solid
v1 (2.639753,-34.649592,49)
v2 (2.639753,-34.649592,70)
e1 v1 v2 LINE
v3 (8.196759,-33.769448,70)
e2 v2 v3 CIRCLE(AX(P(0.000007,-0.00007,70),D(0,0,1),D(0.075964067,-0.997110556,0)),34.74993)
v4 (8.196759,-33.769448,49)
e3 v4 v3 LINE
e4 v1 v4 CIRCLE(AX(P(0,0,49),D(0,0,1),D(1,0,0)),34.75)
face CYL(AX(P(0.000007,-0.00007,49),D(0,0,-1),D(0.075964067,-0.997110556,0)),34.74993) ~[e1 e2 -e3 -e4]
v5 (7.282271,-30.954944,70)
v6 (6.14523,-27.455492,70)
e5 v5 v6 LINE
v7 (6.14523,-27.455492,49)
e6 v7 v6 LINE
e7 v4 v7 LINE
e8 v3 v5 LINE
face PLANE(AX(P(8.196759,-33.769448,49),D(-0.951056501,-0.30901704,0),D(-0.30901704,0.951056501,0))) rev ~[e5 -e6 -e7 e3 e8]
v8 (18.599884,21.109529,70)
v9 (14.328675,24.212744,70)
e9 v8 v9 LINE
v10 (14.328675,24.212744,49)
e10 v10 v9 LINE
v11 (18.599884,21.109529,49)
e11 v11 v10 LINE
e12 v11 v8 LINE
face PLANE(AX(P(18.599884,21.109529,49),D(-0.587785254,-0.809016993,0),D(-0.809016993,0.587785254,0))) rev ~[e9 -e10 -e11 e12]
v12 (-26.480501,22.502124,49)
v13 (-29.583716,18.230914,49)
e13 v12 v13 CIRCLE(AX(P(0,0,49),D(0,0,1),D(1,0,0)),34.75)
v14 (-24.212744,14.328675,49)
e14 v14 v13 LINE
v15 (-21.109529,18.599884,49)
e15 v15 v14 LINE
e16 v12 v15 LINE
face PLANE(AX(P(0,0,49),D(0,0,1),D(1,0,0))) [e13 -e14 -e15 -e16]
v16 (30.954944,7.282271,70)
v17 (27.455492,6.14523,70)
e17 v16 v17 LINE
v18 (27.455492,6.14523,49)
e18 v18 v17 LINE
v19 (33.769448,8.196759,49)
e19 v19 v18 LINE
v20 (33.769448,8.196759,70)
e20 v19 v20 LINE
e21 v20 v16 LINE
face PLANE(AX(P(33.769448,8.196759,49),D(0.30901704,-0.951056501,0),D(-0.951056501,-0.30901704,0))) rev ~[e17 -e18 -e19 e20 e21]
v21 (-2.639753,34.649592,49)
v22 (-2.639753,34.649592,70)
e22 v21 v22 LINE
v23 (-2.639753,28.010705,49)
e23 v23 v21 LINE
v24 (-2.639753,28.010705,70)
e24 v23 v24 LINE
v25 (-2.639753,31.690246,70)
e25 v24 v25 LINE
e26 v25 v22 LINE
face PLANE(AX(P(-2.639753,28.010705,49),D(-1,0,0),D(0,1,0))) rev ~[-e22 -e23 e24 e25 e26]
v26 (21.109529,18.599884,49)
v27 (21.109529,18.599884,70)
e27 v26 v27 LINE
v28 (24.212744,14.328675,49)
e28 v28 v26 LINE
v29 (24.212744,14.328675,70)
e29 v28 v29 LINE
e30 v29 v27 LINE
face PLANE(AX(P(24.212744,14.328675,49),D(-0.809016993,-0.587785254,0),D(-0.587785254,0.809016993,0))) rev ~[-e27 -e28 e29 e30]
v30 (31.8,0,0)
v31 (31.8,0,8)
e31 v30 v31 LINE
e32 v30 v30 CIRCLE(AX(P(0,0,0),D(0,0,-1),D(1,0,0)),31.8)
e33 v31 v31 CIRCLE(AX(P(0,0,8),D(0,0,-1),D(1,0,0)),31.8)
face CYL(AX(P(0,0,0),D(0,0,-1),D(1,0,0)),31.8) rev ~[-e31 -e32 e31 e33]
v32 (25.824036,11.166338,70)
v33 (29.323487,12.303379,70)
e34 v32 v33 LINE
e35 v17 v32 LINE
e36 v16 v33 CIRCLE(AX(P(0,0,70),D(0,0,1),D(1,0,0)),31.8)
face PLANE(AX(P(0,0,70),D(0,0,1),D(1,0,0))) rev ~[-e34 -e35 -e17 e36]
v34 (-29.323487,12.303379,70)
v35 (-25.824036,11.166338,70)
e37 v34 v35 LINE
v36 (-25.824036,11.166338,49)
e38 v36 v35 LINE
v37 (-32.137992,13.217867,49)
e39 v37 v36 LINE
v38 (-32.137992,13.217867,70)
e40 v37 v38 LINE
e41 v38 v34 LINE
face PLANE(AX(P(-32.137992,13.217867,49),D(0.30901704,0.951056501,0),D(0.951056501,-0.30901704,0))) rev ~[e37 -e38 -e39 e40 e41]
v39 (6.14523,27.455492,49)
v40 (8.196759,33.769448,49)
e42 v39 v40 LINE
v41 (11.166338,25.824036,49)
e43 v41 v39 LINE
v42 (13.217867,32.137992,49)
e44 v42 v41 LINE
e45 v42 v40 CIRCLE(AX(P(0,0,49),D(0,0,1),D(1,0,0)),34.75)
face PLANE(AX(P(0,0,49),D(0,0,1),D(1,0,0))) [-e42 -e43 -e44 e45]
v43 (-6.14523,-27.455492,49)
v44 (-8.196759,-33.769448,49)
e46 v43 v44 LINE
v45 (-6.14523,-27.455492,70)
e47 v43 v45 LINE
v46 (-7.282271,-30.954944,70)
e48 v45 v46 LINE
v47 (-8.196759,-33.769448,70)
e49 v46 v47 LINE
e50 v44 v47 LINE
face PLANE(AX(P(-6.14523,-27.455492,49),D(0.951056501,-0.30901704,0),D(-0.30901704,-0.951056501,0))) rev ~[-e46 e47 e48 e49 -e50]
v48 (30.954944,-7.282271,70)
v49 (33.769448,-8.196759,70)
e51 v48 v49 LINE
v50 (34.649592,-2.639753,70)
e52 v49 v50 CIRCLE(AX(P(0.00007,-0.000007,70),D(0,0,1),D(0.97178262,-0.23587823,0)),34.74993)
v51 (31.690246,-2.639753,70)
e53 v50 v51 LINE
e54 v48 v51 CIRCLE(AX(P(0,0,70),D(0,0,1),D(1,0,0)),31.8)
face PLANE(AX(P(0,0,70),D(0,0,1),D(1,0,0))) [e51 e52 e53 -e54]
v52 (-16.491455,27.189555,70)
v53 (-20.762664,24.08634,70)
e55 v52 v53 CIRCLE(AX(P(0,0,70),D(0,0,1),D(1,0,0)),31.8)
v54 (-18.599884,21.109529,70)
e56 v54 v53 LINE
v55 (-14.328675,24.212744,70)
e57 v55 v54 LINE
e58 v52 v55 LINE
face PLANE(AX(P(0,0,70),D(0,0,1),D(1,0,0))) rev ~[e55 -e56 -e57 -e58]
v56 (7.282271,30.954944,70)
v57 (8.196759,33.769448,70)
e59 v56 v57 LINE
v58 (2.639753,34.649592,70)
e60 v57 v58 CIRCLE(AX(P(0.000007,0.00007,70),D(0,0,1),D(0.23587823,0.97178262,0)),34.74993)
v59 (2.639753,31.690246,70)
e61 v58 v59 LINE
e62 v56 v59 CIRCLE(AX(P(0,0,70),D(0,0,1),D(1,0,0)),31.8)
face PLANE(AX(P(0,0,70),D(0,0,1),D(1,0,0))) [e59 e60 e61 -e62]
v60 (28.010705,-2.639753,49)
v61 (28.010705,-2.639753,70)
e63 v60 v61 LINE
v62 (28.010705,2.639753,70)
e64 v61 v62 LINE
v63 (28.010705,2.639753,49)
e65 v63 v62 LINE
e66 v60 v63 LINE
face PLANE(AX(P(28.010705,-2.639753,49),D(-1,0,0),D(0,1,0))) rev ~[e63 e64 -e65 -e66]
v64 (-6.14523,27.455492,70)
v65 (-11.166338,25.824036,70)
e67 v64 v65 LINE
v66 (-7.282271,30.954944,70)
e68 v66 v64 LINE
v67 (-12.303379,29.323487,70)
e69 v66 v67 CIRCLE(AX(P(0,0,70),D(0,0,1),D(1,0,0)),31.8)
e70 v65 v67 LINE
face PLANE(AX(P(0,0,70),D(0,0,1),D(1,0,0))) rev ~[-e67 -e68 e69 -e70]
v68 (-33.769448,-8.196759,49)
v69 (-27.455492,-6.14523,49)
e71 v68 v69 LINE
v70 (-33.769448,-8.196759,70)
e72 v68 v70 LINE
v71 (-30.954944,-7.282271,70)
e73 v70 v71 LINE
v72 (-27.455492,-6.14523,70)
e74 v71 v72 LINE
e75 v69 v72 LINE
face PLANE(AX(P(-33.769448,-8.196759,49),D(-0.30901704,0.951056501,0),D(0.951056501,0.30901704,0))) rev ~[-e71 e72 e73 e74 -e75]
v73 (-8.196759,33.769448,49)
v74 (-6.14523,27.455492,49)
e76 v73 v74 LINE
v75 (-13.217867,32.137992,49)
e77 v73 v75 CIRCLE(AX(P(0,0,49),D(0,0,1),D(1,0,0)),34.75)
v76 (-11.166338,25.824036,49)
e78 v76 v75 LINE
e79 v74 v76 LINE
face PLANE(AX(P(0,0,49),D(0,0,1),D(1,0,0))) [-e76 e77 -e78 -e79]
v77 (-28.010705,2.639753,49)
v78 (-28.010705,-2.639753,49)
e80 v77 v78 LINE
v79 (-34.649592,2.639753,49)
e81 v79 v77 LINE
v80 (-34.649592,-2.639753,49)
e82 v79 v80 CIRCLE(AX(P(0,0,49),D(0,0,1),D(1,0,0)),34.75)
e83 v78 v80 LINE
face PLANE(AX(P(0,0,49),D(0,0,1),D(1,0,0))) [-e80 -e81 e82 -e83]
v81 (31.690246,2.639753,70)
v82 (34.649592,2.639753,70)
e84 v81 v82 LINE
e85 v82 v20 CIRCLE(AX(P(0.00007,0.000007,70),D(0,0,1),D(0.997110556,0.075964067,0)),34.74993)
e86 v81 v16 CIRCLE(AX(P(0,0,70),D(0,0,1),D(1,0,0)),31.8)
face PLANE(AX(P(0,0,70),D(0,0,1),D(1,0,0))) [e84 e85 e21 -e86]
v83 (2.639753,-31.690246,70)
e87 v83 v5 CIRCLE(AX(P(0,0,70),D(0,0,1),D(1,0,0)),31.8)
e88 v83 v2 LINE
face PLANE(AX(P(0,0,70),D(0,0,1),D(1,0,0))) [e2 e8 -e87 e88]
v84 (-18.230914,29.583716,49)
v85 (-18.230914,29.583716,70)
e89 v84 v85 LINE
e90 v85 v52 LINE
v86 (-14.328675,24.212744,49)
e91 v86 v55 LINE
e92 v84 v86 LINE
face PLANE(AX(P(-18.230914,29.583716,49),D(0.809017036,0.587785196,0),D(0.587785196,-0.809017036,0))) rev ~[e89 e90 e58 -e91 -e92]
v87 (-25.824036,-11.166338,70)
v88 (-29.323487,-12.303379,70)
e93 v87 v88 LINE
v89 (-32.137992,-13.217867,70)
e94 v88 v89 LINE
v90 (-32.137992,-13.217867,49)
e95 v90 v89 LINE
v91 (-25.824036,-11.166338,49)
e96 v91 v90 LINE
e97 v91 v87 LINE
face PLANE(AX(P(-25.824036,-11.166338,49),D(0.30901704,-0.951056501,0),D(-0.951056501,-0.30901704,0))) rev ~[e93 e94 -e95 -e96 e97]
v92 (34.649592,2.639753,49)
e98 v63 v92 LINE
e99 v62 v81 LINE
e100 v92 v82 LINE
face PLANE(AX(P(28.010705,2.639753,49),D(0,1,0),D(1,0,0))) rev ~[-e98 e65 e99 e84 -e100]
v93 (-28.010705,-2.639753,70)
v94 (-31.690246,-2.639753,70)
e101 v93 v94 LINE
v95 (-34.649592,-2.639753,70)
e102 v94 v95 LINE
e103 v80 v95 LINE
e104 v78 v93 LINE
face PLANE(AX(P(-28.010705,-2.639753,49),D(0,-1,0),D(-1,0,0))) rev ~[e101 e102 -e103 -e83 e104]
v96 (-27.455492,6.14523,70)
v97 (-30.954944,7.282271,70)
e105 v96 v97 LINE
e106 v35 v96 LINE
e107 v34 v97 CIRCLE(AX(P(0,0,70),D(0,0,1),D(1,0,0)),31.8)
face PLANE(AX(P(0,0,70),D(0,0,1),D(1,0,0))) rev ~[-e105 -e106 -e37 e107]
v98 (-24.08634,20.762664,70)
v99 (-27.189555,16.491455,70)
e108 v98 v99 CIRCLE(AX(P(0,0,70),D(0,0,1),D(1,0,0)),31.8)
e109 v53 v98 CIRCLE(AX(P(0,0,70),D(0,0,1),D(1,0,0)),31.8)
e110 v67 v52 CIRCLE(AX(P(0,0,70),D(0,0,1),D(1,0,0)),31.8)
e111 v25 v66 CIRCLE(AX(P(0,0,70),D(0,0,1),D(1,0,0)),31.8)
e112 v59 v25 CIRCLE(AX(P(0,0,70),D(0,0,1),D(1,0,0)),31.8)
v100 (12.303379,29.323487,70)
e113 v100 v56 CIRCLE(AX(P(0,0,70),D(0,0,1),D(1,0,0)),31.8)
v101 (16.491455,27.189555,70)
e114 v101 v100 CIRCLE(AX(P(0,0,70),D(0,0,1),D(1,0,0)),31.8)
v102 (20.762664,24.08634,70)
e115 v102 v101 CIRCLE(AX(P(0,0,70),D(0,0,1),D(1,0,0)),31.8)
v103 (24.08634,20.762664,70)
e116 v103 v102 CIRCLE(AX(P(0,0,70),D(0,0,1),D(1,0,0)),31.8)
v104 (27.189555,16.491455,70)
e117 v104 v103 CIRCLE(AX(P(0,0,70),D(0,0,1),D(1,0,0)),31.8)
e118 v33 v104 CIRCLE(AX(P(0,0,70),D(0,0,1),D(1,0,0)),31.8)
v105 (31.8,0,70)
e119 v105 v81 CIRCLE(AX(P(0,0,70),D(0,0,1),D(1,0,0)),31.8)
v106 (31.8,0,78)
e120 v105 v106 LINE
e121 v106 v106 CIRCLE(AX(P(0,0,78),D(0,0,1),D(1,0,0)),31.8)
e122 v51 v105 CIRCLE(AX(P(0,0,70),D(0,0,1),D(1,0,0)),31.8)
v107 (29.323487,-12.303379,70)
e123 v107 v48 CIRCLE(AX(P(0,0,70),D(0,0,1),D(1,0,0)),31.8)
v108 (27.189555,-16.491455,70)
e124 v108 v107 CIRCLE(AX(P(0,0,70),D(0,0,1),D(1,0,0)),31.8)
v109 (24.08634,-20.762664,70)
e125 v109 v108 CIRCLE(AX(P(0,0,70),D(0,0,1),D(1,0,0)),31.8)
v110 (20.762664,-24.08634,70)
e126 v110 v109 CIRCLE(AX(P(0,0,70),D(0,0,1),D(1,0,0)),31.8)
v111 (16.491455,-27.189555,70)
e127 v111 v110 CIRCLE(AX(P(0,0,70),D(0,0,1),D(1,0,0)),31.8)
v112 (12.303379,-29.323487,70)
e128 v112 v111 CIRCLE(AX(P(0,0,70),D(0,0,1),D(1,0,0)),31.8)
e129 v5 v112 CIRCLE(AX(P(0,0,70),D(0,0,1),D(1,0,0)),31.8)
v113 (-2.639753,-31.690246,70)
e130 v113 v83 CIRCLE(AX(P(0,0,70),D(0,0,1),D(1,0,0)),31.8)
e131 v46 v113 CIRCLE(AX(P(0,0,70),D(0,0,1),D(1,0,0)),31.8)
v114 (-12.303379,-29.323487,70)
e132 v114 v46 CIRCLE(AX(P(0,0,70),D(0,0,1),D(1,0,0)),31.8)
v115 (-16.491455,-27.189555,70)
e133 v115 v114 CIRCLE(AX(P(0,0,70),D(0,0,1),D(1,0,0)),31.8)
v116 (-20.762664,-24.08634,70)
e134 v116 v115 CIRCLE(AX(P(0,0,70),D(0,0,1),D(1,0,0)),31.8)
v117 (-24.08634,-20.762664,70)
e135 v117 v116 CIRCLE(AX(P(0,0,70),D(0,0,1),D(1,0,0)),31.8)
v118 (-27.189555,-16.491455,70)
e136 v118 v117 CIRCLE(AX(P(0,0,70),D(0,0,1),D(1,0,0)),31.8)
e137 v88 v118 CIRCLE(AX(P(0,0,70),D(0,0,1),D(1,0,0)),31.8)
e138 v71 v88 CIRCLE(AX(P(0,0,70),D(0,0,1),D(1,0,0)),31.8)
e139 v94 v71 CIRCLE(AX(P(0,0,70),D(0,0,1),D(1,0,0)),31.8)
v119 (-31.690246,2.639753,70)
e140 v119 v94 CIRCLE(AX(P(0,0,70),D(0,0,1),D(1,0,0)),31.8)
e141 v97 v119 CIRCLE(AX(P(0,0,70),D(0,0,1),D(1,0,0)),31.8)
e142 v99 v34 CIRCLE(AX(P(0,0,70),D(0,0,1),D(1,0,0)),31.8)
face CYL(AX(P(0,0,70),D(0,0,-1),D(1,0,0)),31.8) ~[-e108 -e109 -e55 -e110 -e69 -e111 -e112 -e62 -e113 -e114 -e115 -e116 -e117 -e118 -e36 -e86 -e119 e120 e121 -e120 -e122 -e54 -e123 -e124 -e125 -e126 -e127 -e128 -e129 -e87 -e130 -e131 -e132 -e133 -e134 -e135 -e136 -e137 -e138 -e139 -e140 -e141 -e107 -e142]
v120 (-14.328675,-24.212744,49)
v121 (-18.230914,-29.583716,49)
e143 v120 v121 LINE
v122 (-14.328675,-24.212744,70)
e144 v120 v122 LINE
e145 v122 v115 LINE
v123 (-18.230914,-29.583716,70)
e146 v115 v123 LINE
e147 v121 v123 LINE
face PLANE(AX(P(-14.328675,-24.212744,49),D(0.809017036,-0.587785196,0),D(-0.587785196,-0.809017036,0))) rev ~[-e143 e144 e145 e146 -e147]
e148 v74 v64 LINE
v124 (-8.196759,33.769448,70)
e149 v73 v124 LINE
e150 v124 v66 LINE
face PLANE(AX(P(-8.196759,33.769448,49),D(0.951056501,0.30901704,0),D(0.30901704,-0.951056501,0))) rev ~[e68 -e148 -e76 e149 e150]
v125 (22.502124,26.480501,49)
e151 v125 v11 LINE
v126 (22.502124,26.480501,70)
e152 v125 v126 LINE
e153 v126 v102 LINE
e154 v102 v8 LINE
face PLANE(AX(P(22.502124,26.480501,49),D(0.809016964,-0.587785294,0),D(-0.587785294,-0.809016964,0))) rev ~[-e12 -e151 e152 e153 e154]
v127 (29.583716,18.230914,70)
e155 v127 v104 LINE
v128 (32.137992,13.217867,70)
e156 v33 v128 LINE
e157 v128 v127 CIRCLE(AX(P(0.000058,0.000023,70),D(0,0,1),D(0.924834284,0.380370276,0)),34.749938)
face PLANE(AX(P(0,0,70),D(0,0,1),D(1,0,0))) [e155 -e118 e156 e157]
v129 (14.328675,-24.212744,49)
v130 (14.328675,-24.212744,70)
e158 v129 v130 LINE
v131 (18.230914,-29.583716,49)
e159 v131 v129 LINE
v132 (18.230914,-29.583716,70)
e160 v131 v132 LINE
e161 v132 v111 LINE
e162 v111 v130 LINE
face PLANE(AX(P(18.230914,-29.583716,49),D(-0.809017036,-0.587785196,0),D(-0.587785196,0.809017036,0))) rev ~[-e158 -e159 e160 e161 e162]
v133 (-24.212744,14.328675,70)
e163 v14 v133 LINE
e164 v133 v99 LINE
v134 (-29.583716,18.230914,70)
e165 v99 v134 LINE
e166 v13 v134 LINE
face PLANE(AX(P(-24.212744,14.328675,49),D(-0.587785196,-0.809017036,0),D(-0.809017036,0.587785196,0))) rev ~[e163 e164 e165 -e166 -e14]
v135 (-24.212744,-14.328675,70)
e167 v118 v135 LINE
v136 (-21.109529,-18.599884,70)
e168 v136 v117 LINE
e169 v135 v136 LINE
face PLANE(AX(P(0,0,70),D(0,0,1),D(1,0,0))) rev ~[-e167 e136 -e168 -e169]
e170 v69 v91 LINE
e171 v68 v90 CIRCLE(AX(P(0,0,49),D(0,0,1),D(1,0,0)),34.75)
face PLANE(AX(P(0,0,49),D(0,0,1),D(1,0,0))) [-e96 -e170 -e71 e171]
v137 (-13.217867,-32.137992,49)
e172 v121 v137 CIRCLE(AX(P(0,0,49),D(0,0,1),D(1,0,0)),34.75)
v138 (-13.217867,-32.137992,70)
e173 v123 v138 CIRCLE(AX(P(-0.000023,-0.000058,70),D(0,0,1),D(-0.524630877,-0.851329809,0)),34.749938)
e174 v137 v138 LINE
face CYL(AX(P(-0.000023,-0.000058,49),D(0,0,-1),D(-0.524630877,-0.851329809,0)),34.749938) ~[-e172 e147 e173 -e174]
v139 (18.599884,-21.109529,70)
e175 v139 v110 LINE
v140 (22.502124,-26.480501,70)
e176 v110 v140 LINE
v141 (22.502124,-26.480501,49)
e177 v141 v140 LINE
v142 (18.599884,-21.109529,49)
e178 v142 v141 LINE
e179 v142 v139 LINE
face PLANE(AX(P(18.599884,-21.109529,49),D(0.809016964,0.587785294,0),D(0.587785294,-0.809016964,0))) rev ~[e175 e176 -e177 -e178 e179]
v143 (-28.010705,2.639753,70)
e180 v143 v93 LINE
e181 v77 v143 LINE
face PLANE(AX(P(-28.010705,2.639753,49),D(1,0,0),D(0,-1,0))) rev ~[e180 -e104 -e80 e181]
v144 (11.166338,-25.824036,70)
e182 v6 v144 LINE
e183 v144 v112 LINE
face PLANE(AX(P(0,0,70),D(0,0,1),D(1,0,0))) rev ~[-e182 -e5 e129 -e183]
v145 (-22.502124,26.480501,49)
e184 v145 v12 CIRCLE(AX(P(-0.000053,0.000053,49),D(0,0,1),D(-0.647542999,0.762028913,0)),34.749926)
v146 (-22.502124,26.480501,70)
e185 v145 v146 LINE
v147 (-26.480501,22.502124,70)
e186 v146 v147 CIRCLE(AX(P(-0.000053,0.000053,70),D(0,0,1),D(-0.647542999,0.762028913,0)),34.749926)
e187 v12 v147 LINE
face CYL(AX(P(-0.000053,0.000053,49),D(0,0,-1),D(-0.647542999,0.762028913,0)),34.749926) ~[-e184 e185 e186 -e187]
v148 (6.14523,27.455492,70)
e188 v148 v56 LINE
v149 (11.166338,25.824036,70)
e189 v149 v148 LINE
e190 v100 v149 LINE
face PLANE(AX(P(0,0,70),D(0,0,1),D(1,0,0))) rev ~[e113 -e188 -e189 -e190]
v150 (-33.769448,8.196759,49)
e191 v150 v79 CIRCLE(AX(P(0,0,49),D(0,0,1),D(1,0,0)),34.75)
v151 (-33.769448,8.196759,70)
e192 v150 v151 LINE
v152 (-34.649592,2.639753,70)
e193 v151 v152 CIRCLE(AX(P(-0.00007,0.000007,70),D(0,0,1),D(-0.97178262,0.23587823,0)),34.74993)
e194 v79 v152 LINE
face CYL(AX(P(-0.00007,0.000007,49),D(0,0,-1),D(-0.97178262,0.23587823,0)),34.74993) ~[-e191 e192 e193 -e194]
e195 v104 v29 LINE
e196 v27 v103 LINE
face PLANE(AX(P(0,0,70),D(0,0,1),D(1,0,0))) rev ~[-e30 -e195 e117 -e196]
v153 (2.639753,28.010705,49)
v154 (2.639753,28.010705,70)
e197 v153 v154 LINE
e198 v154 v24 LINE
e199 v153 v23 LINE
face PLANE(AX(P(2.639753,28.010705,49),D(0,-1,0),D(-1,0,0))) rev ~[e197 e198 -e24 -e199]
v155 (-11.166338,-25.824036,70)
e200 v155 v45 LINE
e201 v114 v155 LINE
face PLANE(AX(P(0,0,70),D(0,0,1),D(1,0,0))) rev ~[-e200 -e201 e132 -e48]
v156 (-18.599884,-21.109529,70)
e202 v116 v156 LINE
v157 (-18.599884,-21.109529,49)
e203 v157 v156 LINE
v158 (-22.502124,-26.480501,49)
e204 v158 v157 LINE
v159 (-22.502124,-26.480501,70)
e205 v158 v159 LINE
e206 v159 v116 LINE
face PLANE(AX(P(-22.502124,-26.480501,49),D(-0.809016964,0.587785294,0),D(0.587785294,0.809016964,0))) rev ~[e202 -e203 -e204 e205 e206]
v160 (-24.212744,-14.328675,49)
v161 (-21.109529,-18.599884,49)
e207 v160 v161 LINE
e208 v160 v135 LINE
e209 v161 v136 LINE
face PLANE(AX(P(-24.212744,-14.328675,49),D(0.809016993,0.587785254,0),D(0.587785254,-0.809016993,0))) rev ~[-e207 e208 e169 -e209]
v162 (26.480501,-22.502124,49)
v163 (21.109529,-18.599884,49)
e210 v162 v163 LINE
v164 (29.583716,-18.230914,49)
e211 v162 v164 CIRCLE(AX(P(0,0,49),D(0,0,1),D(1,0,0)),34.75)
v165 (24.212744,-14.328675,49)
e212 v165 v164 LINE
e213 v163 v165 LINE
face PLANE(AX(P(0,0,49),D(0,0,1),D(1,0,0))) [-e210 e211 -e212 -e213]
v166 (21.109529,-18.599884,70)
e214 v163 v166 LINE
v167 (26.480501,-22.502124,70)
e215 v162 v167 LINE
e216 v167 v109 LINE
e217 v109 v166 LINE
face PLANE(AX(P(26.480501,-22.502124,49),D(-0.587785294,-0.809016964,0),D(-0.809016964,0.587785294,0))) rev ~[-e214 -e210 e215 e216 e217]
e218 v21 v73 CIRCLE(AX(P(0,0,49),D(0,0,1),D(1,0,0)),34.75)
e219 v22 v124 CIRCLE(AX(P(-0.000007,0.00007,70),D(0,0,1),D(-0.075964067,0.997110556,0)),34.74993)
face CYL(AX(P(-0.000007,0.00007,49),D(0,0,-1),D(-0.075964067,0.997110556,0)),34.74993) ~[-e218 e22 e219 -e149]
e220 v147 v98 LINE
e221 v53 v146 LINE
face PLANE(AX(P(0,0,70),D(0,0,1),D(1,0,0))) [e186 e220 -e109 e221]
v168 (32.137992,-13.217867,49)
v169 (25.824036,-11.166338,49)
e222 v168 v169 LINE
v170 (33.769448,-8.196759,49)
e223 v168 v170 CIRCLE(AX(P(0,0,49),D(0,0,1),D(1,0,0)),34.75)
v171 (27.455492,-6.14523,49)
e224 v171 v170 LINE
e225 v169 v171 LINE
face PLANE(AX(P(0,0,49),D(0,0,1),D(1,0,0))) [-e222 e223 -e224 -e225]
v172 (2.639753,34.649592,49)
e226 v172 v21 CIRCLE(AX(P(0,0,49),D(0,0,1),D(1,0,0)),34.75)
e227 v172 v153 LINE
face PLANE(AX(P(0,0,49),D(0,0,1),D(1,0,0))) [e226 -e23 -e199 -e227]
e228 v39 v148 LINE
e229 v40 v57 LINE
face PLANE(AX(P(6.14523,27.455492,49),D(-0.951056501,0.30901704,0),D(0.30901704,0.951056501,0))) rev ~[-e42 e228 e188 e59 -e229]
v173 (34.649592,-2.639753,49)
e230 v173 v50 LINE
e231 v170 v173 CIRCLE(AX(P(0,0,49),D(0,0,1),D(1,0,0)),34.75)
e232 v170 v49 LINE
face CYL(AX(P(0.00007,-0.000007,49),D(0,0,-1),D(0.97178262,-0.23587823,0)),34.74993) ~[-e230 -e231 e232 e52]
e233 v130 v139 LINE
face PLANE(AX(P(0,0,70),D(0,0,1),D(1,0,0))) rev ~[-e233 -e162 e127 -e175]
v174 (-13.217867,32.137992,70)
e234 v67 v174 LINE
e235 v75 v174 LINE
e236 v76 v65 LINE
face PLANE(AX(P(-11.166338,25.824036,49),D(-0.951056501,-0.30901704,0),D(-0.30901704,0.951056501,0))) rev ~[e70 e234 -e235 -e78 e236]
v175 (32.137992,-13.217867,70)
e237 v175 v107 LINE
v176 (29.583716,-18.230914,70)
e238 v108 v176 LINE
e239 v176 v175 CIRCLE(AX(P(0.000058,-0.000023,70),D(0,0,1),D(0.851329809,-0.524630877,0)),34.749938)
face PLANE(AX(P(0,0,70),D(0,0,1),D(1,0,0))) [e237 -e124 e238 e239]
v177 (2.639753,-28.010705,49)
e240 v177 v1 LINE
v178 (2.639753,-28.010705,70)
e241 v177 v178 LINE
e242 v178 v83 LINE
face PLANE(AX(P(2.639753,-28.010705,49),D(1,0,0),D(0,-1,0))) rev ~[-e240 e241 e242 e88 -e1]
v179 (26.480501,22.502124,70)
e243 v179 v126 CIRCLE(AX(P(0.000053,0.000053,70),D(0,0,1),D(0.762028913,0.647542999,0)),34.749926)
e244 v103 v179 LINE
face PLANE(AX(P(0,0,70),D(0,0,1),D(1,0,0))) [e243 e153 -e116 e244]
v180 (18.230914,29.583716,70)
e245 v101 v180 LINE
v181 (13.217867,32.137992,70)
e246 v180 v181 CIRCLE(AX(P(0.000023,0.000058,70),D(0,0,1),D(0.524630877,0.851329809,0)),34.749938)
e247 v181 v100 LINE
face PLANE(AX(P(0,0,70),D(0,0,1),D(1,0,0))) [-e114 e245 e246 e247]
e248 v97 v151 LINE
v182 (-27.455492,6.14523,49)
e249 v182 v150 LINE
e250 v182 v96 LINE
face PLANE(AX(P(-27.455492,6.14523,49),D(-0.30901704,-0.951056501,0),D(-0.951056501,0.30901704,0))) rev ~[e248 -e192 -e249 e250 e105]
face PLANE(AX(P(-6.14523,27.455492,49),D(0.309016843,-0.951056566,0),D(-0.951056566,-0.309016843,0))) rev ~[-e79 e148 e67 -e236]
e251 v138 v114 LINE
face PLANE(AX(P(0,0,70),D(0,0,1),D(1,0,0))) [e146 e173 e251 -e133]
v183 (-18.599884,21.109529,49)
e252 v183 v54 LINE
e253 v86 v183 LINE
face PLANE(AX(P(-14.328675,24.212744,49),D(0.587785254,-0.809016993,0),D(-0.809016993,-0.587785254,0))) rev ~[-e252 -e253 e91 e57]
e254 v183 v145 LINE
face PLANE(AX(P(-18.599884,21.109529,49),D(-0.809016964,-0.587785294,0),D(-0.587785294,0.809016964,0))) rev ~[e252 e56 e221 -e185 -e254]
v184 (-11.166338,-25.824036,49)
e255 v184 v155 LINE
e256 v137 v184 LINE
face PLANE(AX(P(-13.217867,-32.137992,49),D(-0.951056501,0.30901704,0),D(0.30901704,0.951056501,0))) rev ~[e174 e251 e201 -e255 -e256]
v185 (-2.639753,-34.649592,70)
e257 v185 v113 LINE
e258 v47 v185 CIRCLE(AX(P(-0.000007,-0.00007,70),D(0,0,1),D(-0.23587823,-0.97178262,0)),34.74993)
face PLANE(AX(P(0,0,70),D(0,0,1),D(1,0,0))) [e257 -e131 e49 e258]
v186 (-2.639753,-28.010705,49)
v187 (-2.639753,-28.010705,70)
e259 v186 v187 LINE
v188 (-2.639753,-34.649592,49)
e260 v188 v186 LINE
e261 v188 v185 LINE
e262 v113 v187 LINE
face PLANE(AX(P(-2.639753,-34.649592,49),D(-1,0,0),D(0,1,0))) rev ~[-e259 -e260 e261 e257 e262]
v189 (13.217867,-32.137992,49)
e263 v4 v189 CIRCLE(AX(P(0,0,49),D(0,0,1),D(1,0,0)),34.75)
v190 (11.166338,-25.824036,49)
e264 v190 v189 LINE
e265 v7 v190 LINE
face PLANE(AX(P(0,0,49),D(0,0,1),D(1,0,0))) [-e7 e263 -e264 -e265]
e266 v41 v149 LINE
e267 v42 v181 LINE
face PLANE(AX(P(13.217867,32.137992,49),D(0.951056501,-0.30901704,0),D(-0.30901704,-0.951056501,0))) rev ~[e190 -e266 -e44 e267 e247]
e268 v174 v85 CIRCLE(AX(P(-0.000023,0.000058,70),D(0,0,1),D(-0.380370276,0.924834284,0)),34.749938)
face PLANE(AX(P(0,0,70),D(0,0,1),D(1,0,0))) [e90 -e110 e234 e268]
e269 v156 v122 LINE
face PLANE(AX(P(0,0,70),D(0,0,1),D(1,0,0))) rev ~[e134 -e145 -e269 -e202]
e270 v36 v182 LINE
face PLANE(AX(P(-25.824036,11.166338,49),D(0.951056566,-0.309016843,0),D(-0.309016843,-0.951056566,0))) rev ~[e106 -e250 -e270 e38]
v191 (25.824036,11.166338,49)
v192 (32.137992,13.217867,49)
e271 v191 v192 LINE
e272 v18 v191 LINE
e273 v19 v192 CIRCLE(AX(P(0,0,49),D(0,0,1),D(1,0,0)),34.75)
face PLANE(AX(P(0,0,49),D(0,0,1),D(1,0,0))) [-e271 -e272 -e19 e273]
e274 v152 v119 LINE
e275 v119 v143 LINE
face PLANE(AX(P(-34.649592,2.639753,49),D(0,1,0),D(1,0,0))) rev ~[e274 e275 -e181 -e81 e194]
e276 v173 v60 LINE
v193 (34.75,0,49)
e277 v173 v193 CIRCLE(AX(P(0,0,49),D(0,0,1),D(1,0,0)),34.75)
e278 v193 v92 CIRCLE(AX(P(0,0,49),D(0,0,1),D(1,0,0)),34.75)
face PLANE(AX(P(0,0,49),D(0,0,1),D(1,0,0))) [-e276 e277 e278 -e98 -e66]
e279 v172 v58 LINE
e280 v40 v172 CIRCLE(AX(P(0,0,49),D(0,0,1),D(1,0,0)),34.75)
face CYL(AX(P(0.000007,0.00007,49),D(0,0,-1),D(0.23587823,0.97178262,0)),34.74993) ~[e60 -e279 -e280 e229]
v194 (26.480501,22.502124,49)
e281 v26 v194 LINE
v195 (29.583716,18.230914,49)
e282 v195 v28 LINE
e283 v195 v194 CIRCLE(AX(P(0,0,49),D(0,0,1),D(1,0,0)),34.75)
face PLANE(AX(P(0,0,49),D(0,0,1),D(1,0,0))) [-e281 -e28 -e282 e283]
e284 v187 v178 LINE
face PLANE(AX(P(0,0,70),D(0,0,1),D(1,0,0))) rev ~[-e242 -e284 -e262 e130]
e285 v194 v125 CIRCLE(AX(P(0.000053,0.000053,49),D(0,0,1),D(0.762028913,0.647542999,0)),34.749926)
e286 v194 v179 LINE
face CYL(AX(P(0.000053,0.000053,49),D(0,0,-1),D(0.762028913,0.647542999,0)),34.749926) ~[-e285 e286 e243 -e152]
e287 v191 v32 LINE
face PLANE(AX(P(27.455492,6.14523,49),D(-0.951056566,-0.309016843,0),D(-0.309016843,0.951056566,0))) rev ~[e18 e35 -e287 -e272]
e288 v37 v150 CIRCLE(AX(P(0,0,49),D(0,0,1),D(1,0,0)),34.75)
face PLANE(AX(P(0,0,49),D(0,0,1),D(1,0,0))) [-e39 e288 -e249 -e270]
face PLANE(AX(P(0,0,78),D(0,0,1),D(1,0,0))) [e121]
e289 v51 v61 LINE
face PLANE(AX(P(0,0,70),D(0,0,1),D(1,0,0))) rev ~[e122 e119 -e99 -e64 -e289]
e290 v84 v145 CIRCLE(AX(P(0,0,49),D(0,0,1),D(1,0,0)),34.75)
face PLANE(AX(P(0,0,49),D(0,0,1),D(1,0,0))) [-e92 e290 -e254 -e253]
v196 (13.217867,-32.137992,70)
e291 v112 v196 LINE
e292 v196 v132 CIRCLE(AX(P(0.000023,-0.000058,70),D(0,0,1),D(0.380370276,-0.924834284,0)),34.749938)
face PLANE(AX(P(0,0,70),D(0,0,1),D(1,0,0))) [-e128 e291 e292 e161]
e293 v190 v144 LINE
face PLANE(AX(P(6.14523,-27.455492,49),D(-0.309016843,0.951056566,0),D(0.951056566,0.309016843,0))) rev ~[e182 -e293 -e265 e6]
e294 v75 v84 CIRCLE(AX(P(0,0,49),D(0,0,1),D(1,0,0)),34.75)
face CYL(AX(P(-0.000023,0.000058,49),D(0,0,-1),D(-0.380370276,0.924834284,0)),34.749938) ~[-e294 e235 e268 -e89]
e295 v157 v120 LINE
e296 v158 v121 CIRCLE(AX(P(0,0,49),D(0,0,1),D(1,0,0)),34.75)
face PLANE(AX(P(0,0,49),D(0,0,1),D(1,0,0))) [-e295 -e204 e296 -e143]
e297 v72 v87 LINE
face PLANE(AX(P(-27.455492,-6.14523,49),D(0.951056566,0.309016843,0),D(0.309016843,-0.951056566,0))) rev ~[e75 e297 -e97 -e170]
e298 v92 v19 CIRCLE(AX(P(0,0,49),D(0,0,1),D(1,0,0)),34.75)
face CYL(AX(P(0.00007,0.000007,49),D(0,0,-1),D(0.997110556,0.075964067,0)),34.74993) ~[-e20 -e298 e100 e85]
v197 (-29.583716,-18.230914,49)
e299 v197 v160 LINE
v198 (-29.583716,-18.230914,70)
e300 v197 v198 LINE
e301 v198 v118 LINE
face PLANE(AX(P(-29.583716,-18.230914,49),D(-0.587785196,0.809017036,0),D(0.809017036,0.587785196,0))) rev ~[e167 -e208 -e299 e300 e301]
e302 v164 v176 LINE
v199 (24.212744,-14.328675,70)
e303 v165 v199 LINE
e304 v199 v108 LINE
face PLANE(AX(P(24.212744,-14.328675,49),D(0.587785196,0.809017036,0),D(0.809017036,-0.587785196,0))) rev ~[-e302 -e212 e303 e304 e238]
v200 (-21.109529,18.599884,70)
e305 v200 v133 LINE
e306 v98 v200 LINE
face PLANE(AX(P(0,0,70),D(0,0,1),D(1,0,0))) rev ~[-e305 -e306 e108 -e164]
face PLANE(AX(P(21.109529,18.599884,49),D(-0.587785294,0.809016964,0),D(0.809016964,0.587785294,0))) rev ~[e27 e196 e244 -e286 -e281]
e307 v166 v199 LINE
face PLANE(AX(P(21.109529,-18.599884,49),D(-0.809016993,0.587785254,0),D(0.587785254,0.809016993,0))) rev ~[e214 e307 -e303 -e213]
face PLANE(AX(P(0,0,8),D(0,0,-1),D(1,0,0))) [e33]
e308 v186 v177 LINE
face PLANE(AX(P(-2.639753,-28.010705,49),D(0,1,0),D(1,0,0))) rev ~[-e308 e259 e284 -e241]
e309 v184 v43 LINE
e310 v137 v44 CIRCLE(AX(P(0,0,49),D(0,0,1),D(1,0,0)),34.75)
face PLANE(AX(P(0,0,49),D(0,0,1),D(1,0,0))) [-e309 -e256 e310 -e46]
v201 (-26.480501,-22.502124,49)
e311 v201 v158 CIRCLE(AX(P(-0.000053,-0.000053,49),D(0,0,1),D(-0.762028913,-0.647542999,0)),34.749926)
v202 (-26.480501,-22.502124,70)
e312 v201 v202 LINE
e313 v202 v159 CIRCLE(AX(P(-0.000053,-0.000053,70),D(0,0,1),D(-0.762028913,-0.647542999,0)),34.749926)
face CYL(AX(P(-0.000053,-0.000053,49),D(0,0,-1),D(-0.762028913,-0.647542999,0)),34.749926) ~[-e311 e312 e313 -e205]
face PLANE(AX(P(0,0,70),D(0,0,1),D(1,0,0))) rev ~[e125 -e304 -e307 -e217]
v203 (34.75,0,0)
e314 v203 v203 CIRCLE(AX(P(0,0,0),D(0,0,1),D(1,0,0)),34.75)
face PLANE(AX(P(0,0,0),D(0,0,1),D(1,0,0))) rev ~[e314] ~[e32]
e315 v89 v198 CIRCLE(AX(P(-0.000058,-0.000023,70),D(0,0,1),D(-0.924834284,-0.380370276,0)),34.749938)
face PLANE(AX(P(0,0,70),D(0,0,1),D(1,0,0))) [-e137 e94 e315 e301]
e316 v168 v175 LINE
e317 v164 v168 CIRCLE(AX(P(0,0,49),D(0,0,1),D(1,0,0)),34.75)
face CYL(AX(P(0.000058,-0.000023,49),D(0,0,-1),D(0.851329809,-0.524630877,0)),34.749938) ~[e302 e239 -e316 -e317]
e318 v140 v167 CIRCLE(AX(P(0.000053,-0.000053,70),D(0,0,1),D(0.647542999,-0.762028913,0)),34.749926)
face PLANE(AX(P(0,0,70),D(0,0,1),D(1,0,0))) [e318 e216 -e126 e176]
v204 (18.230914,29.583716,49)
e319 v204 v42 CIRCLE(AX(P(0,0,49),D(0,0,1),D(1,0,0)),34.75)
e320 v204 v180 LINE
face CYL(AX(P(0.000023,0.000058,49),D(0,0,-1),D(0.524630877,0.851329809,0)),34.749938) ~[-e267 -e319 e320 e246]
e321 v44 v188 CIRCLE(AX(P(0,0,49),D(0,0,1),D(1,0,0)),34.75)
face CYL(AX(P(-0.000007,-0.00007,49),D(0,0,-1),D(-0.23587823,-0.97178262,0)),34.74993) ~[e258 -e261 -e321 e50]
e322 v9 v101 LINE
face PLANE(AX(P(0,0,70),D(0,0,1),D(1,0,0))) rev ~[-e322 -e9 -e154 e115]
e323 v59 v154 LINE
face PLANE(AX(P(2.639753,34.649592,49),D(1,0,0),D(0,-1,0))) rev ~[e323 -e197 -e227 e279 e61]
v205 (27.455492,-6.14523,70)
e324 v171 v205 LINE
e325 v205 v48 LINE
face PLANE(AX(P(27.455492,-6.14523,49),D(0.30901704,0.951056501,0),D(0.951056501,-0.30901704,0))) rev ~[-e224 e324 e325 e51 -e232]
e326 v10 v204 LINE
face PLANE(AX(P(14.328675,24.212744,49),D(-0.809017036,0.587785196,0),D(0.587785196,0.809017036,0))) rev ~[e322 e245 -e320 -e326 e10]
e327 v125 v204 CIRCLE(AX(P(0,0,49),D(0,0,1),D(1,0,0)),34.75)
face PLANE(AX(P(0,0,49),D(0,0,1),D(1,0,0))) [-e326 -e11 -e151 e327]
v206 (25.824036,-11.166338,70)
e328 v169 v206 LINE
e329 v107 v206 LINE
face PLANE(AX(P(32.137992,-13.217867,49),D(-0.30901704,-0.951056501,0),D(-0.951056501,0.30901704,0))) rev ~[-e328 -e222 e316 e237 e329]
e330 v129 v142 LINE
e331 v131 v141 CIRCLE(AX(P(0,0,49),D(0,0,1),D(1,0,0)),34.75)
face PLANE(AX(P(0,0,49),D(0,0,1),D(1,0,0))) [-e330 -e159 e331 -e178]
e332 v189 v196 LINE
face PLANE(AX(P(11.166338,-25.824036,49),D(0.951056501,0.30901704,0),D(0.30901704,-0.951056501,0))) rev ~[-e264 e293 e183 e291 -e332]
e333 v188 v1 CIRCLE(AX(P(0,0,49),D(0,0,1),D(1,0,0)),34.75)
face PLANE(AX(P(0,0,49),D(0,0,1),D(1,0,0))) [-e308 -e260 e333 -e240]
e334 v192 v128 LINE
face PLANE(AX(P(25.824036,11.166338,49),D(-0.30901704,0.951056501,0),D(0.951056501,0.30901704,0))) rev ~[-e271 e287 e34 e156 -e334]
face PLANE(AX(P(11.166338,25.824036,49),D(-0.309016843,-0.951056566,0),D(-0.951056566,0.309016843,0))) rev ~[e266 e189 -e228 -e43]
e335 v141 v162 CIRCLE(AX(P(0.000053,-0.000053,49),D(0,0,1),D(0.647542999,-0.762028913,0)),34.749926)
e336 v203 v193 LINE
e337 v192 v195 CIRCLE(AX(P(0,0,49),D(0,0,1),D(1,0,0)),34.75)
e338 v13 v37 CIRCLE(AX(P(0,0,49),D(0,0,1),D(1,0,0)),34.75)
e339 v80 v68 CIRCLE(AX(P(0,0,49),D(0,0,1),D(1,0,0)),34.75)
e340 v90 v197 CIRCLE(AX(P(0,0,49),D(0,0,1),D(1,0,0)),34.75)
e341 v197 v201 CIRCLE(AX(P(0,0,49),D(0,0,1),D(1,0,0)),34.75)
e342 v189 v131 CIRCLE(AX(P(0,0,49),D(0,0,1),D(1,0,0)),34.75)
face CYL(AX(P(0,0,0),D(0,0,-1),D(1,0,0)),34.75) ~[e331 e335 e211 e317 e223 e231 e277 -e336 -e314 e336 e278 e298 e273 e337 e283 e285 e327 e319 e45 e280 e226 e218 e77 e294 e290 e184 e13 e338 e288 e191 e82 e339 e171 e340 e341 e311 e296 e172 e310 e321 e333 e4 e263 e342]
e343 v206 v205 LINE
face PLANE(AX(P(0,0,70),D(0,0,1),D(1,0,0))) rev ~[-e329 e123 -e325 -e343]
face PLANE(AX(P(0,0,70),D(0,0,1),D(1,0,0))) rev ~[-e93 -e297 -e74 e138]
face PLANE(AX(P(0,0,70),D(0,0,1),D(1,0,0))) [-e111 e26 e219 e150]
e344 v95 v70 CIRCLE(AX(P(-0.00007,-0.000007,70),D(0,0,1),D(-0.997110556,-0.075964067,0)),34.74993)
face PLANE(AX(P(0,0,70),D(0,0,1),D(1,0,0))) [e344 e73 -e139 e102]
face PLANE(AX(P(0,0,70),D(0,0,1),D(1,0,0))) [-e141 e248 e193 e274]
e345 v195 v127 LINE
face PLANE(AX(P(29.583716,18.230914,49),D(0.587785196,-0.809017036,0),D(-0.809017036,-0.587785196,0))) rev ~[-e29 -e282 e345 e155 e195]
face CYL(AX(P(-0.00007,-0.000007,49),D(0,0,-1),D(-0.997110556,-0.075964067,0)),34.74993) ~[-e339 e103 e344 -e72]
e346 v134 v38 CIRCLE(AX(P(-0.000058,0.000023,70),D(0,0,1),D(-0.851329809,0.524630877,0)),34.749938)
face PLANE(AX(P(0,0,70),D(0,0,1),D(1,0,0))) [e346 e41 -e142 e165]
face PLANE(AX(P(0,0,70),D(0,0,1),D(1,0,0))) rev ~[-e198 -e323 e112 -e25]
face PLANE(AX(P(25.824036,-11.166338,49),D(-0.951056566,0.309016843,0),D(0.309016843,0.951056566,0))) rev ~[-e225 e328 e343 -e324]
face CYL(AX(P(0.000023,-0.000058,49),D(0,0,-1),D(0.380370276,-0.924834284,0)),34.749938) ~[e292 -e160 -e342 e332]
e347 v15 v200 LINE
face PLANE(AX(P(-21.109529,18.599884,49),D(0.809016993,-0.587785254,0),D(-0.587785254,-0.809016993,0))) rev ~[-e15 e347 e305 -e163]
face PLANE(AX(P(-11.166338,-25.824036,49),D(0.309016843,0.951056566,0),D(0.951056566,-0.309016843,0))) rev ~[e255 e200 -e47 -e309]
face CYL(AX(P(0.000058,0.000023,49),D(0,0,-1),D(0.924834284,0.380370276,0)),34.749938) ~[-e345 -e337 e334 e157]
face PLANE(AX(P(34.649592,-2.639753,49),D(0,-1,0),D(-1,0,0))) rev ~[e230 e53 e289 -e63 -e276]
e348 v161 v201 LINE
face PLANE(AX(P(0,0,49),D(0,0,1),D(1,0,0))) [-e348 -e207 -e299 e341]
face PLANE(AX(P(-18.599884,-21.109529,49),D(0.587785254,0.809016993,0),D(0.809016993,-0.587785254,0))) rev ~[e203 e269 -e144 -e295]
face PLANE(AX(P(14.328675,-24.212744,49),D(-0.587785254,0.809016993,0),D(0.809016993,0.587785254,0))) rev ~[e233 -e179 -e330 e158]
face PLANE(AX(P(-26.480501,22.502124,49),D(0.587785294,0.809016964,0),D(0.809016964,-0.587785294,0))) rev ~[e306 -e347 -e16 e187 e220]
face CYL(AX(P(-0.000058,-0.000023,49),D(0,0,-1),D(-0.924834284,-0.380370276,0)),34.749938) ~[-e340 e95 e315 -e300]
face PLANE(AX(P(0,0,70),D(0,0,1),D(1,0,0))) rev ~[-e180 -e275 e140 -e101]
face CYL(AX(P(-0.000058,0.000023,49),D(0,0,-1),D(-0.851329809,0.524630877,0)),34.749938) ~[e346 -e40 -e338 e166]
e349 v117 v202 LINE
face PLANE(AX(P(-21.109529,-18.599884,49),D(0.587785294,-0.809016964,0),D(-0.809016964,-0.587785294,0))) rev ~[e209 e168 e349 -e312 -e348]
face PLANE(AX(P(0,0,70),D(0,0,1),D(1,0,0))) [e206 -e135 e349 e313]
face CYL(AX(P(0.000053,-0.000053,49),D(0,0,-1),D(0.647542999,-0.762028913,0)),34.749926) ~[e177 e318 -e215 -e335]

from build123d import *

# Parameters (mm, degrees)
F0_R     = 34.75
F1_DEPTH = 49
F3_DEPTH = 21
F4_R     = 31.8
F5_DEPTH = 8
F6_R     = 31.8
F7_DEPTH = 8


with BuildPart() as f1:
    # F0 (on Top) → F1 (new body)
    with BuildSketch(Plane.XY):
        Circle(F0_R)
    extrude(amount=F1_DEPTH)

    # F2 (on face) → F3 (join)
    with BuildSketch(Plane.XY.offset(49)):
        with BuildLine():
            Line((-2.639753, 28.010705), (-2.639753, 34.649592))
            ThreePointArc((-2.639753, 34.649592), (-5.436098, 34.32217), (-8.196759, 33.769448))
            Line((-8.196759, 33.769448), (-6.14523, 27.455492))
            Line((-6.14523, 27.455492), (-11.166338, 25.824036))
            Line((-11.166338, 25.824036), (-13.217867, 32.137992))
            ThreePointArc((-13.217867, 32.137992), (-15.77617, 30.962477), (-18.230914, 29.583716))
            Line((-18.230914, 29.583716), (-14.328675, 24.212744))
            Line((-14.328675, 24.212744), (-18.599884, 21.109529))
            Line((-18.599884, 21.109529), (-22.502124, 26.480501))
            ThreePointArc((-22.502124, 26.480501), (-24.571961, 24.571961), (-26.480501, 22.502124))
            Line((-26.480501, 22.502124), (-21.109529, 18.599884))
            Line((-21.109529, 18.599884), (-24.212744, 14.328675))
            Line((-24.212744, 14.328675), (-29.583716, 18.230914))
            ThreePointArc((-29.583716, 18.230914), (-30.962477, 15.77617), (-32.137992, 13.217867))
            Line((-32.137992, 13.217867), (-25.824036, 11.166338))
            Line((-25.824036, 11.166338), (-27.455492, 6.14523))
            Line((-27.455492, 6.14523), (-33.769448, 8.196759))
            ThreePointArc((-33.769448, 8.196759), (-34.32217, 5.436098), (-34.649592, 2.639753))
            Line((-34.649592, 2.639753), (-28.010705, 2.639753))
            Line((-28.010705, 2.639753), (-28.010705, -2.639753))
            Line((-28.010705, -2.639753), (-34.649592, -2.639753))
            ThreePointArc((-34.649592, -2.639753), (-34.32217, -5.436098), (-33.769448, -8.196759))
            Line((-33.769448, -8.196759), (-27.455492, -6.14523))
            Line((-27.455492, -6.14523), (-25.824036, -11.166338))
            Line((-25.824036, -11.166338), (-32.137992, -13.217867))
            ThreePointArc((-32.137992, -13.217867), (-30.962477, -15.77617), (-29.583716, -18.230914))
            Line((-29.583716, -18.230914), (-24.212744, -14.328675))
            Line((-24.212744, -14.328675), (-21.109529, -18.599884))
            Line((-21.109529, -18.599884), (-26.480501, -22.502124))
            ThreePointArc((-26.480501, -22.502124), (-24.571961, -24.571961), (-22.502124, -26.480501))
            Line((-22.502124, -26.480501), (-18.599884, -21.109529))
            Line((-18.599884, -21.109529), (-14.328675, -24.212744))
            Line((-14.328675, -24.212744), (-18.230914, -29.583716))
            ThreePointArc((-18.230914, -29.583716), (-15.77617, -30.962477), (-13.217867, -32.137992))
            Line((-13.217867, -32.137992), (-11.166338, -25.824036))
            Line((-11.166338, -25.824036), (-6.14523, -27.455492))
            Line((-6.14523, -27.455492), (-8.196759, -33.769448))
            ThreePointArc((-8.196759, -33.769448), (-5.436098, -34.32217), (-2.639753, -34.649592))
            Line((-2.639753, -34.649592), (-2.639753, -28.010705))
            Line((-2.639753, -28.010705), (2.639753, -28.010705))
            Line((2.639753, -28.010705), (2.639753, -34.649592))
            ThreePointArc((2.639753, -34.649592), (5.436098, -34.32217), (8.196759, -33.769448))
            Line((8.196759, -33.769448), (6.14523, -27.455492))
            Line((6.14523, -27.455492), (11.166338, -25.824036))
            Line((11.166338, -25.824036), (13.217867, -32.137992))
            ThreePointArc((13.217867, -32.137992), (15.77617, -30.962477), (18.230914, -29.583716))
            Line((18.230914, -29.583716), (14.328675, -24.212744))
            Line((14.328675, -24.212744), (18.599884, -21.109529))
            Line((18.599884, -21.109529), (22.502124, -26.480501))
            ThreePointArc((22.502124, -26.480501), (24.571961, -24.571961), (26.480501, -22.502124))
            Line((26.480501, -22.502124), (21.109529, -18.599884))
            Line((21.109529, -18.599884), (24.212744, -14.328675))
            Line((24.212744, -14.328675), (29.583716, -18.230914))
            ThreePointArc((29.583716, -18.230914), (30.962477, -15.77617), (32.137992, -13.217867))
            Line((32.137992, -13.217867), (25.824036, -11.166338))
            Line((25.824036, -11.166338), (27.455492, -6.14523))
            Line((27.455492, -6.14523), (33.769448, -8.196759))
            ThreePointArc((33.769448, -8.196759), (34.32217, -5.436098), (34.649592, -2.639753))
            Line((34.649592, -2.639753), (28.010705, -2.639753))
            Line((28.010705, -2.639753), (28.010705, 2.639753))
            Line((28.010705, 2.639753), (34.649592, 2.639753))
            ThreePointArc((34.649592, 2.639753), (34.32217, 5.436098), (33.769448, 8.196759))
            Line((33.769448, 8.196759), (27.455492, 6.14523))
            Line((27.455492, 6.14523), (25.824036, 11.166338))
            Line((25.824036, 11.166338), (32.137992, 13.217867))
            ThreePointArc((32.137992, 13.217867), (30.962477, 15.77617), (29.583716, 18.230914))
            Line((29.583716, 18.230914), (24.212744, 14.328675))
            Line((24.212744, 14.328675), (21.109529, 18.599884))
            Line((21.109529, 18.599884), (26.480501, 22.502124))
            ThreePointArc((26.480501, 22.502124), (24.571961, 24.571961), (22.502124, 26.480501))
            Line((22.502124, 26.480501), (18.599884, 21.109529))
            Line((18.599884, 21.109529), (14.328675, 24.212744))
            Line((14.328675, 24.212744), (18.230914, 29.583716))
            ThreePointArc((18.230914, 29.583716), (15.77617, 30.962477), (13.217867, 32.137992))
            Line((13.217867, 32.137992), (11.166338, 25.824036))
            Line((11.166338, 25.824036), (6.14523, 27.455492))
            Line((6.14523, 27.455492), (8.196759, 33.769448))
            ThreePointArc((8.196759, 33.769448), (5.436098, 34.32217), (2.639753, 34.649592))
            Line((2.639753, 34.649592), (2.639753, 28.010705))
            Line((2.639753, 28.010705), (-2.639753, 28.010705))
        make_face()
    extrude(amount=F3_DEPTH)

    # F4 (on face) → F5 (join)
    with BuildSketch(Plane.XY.offset(70)):
        Circle(F4_R)
    extrude(amount=F5_DEPTH)

    # F6 (on face) → F7 (cut)
    with BuildSketch(Plane(origin=(0, 0, 0), x_dir=(1, 0, 0), z_dir=(0, 0, -1))):
        Circle(F6_R)
    extrude(amount=-F7_DEPTH, mode=Mode.SUBTRACT)


solid = f1.part
